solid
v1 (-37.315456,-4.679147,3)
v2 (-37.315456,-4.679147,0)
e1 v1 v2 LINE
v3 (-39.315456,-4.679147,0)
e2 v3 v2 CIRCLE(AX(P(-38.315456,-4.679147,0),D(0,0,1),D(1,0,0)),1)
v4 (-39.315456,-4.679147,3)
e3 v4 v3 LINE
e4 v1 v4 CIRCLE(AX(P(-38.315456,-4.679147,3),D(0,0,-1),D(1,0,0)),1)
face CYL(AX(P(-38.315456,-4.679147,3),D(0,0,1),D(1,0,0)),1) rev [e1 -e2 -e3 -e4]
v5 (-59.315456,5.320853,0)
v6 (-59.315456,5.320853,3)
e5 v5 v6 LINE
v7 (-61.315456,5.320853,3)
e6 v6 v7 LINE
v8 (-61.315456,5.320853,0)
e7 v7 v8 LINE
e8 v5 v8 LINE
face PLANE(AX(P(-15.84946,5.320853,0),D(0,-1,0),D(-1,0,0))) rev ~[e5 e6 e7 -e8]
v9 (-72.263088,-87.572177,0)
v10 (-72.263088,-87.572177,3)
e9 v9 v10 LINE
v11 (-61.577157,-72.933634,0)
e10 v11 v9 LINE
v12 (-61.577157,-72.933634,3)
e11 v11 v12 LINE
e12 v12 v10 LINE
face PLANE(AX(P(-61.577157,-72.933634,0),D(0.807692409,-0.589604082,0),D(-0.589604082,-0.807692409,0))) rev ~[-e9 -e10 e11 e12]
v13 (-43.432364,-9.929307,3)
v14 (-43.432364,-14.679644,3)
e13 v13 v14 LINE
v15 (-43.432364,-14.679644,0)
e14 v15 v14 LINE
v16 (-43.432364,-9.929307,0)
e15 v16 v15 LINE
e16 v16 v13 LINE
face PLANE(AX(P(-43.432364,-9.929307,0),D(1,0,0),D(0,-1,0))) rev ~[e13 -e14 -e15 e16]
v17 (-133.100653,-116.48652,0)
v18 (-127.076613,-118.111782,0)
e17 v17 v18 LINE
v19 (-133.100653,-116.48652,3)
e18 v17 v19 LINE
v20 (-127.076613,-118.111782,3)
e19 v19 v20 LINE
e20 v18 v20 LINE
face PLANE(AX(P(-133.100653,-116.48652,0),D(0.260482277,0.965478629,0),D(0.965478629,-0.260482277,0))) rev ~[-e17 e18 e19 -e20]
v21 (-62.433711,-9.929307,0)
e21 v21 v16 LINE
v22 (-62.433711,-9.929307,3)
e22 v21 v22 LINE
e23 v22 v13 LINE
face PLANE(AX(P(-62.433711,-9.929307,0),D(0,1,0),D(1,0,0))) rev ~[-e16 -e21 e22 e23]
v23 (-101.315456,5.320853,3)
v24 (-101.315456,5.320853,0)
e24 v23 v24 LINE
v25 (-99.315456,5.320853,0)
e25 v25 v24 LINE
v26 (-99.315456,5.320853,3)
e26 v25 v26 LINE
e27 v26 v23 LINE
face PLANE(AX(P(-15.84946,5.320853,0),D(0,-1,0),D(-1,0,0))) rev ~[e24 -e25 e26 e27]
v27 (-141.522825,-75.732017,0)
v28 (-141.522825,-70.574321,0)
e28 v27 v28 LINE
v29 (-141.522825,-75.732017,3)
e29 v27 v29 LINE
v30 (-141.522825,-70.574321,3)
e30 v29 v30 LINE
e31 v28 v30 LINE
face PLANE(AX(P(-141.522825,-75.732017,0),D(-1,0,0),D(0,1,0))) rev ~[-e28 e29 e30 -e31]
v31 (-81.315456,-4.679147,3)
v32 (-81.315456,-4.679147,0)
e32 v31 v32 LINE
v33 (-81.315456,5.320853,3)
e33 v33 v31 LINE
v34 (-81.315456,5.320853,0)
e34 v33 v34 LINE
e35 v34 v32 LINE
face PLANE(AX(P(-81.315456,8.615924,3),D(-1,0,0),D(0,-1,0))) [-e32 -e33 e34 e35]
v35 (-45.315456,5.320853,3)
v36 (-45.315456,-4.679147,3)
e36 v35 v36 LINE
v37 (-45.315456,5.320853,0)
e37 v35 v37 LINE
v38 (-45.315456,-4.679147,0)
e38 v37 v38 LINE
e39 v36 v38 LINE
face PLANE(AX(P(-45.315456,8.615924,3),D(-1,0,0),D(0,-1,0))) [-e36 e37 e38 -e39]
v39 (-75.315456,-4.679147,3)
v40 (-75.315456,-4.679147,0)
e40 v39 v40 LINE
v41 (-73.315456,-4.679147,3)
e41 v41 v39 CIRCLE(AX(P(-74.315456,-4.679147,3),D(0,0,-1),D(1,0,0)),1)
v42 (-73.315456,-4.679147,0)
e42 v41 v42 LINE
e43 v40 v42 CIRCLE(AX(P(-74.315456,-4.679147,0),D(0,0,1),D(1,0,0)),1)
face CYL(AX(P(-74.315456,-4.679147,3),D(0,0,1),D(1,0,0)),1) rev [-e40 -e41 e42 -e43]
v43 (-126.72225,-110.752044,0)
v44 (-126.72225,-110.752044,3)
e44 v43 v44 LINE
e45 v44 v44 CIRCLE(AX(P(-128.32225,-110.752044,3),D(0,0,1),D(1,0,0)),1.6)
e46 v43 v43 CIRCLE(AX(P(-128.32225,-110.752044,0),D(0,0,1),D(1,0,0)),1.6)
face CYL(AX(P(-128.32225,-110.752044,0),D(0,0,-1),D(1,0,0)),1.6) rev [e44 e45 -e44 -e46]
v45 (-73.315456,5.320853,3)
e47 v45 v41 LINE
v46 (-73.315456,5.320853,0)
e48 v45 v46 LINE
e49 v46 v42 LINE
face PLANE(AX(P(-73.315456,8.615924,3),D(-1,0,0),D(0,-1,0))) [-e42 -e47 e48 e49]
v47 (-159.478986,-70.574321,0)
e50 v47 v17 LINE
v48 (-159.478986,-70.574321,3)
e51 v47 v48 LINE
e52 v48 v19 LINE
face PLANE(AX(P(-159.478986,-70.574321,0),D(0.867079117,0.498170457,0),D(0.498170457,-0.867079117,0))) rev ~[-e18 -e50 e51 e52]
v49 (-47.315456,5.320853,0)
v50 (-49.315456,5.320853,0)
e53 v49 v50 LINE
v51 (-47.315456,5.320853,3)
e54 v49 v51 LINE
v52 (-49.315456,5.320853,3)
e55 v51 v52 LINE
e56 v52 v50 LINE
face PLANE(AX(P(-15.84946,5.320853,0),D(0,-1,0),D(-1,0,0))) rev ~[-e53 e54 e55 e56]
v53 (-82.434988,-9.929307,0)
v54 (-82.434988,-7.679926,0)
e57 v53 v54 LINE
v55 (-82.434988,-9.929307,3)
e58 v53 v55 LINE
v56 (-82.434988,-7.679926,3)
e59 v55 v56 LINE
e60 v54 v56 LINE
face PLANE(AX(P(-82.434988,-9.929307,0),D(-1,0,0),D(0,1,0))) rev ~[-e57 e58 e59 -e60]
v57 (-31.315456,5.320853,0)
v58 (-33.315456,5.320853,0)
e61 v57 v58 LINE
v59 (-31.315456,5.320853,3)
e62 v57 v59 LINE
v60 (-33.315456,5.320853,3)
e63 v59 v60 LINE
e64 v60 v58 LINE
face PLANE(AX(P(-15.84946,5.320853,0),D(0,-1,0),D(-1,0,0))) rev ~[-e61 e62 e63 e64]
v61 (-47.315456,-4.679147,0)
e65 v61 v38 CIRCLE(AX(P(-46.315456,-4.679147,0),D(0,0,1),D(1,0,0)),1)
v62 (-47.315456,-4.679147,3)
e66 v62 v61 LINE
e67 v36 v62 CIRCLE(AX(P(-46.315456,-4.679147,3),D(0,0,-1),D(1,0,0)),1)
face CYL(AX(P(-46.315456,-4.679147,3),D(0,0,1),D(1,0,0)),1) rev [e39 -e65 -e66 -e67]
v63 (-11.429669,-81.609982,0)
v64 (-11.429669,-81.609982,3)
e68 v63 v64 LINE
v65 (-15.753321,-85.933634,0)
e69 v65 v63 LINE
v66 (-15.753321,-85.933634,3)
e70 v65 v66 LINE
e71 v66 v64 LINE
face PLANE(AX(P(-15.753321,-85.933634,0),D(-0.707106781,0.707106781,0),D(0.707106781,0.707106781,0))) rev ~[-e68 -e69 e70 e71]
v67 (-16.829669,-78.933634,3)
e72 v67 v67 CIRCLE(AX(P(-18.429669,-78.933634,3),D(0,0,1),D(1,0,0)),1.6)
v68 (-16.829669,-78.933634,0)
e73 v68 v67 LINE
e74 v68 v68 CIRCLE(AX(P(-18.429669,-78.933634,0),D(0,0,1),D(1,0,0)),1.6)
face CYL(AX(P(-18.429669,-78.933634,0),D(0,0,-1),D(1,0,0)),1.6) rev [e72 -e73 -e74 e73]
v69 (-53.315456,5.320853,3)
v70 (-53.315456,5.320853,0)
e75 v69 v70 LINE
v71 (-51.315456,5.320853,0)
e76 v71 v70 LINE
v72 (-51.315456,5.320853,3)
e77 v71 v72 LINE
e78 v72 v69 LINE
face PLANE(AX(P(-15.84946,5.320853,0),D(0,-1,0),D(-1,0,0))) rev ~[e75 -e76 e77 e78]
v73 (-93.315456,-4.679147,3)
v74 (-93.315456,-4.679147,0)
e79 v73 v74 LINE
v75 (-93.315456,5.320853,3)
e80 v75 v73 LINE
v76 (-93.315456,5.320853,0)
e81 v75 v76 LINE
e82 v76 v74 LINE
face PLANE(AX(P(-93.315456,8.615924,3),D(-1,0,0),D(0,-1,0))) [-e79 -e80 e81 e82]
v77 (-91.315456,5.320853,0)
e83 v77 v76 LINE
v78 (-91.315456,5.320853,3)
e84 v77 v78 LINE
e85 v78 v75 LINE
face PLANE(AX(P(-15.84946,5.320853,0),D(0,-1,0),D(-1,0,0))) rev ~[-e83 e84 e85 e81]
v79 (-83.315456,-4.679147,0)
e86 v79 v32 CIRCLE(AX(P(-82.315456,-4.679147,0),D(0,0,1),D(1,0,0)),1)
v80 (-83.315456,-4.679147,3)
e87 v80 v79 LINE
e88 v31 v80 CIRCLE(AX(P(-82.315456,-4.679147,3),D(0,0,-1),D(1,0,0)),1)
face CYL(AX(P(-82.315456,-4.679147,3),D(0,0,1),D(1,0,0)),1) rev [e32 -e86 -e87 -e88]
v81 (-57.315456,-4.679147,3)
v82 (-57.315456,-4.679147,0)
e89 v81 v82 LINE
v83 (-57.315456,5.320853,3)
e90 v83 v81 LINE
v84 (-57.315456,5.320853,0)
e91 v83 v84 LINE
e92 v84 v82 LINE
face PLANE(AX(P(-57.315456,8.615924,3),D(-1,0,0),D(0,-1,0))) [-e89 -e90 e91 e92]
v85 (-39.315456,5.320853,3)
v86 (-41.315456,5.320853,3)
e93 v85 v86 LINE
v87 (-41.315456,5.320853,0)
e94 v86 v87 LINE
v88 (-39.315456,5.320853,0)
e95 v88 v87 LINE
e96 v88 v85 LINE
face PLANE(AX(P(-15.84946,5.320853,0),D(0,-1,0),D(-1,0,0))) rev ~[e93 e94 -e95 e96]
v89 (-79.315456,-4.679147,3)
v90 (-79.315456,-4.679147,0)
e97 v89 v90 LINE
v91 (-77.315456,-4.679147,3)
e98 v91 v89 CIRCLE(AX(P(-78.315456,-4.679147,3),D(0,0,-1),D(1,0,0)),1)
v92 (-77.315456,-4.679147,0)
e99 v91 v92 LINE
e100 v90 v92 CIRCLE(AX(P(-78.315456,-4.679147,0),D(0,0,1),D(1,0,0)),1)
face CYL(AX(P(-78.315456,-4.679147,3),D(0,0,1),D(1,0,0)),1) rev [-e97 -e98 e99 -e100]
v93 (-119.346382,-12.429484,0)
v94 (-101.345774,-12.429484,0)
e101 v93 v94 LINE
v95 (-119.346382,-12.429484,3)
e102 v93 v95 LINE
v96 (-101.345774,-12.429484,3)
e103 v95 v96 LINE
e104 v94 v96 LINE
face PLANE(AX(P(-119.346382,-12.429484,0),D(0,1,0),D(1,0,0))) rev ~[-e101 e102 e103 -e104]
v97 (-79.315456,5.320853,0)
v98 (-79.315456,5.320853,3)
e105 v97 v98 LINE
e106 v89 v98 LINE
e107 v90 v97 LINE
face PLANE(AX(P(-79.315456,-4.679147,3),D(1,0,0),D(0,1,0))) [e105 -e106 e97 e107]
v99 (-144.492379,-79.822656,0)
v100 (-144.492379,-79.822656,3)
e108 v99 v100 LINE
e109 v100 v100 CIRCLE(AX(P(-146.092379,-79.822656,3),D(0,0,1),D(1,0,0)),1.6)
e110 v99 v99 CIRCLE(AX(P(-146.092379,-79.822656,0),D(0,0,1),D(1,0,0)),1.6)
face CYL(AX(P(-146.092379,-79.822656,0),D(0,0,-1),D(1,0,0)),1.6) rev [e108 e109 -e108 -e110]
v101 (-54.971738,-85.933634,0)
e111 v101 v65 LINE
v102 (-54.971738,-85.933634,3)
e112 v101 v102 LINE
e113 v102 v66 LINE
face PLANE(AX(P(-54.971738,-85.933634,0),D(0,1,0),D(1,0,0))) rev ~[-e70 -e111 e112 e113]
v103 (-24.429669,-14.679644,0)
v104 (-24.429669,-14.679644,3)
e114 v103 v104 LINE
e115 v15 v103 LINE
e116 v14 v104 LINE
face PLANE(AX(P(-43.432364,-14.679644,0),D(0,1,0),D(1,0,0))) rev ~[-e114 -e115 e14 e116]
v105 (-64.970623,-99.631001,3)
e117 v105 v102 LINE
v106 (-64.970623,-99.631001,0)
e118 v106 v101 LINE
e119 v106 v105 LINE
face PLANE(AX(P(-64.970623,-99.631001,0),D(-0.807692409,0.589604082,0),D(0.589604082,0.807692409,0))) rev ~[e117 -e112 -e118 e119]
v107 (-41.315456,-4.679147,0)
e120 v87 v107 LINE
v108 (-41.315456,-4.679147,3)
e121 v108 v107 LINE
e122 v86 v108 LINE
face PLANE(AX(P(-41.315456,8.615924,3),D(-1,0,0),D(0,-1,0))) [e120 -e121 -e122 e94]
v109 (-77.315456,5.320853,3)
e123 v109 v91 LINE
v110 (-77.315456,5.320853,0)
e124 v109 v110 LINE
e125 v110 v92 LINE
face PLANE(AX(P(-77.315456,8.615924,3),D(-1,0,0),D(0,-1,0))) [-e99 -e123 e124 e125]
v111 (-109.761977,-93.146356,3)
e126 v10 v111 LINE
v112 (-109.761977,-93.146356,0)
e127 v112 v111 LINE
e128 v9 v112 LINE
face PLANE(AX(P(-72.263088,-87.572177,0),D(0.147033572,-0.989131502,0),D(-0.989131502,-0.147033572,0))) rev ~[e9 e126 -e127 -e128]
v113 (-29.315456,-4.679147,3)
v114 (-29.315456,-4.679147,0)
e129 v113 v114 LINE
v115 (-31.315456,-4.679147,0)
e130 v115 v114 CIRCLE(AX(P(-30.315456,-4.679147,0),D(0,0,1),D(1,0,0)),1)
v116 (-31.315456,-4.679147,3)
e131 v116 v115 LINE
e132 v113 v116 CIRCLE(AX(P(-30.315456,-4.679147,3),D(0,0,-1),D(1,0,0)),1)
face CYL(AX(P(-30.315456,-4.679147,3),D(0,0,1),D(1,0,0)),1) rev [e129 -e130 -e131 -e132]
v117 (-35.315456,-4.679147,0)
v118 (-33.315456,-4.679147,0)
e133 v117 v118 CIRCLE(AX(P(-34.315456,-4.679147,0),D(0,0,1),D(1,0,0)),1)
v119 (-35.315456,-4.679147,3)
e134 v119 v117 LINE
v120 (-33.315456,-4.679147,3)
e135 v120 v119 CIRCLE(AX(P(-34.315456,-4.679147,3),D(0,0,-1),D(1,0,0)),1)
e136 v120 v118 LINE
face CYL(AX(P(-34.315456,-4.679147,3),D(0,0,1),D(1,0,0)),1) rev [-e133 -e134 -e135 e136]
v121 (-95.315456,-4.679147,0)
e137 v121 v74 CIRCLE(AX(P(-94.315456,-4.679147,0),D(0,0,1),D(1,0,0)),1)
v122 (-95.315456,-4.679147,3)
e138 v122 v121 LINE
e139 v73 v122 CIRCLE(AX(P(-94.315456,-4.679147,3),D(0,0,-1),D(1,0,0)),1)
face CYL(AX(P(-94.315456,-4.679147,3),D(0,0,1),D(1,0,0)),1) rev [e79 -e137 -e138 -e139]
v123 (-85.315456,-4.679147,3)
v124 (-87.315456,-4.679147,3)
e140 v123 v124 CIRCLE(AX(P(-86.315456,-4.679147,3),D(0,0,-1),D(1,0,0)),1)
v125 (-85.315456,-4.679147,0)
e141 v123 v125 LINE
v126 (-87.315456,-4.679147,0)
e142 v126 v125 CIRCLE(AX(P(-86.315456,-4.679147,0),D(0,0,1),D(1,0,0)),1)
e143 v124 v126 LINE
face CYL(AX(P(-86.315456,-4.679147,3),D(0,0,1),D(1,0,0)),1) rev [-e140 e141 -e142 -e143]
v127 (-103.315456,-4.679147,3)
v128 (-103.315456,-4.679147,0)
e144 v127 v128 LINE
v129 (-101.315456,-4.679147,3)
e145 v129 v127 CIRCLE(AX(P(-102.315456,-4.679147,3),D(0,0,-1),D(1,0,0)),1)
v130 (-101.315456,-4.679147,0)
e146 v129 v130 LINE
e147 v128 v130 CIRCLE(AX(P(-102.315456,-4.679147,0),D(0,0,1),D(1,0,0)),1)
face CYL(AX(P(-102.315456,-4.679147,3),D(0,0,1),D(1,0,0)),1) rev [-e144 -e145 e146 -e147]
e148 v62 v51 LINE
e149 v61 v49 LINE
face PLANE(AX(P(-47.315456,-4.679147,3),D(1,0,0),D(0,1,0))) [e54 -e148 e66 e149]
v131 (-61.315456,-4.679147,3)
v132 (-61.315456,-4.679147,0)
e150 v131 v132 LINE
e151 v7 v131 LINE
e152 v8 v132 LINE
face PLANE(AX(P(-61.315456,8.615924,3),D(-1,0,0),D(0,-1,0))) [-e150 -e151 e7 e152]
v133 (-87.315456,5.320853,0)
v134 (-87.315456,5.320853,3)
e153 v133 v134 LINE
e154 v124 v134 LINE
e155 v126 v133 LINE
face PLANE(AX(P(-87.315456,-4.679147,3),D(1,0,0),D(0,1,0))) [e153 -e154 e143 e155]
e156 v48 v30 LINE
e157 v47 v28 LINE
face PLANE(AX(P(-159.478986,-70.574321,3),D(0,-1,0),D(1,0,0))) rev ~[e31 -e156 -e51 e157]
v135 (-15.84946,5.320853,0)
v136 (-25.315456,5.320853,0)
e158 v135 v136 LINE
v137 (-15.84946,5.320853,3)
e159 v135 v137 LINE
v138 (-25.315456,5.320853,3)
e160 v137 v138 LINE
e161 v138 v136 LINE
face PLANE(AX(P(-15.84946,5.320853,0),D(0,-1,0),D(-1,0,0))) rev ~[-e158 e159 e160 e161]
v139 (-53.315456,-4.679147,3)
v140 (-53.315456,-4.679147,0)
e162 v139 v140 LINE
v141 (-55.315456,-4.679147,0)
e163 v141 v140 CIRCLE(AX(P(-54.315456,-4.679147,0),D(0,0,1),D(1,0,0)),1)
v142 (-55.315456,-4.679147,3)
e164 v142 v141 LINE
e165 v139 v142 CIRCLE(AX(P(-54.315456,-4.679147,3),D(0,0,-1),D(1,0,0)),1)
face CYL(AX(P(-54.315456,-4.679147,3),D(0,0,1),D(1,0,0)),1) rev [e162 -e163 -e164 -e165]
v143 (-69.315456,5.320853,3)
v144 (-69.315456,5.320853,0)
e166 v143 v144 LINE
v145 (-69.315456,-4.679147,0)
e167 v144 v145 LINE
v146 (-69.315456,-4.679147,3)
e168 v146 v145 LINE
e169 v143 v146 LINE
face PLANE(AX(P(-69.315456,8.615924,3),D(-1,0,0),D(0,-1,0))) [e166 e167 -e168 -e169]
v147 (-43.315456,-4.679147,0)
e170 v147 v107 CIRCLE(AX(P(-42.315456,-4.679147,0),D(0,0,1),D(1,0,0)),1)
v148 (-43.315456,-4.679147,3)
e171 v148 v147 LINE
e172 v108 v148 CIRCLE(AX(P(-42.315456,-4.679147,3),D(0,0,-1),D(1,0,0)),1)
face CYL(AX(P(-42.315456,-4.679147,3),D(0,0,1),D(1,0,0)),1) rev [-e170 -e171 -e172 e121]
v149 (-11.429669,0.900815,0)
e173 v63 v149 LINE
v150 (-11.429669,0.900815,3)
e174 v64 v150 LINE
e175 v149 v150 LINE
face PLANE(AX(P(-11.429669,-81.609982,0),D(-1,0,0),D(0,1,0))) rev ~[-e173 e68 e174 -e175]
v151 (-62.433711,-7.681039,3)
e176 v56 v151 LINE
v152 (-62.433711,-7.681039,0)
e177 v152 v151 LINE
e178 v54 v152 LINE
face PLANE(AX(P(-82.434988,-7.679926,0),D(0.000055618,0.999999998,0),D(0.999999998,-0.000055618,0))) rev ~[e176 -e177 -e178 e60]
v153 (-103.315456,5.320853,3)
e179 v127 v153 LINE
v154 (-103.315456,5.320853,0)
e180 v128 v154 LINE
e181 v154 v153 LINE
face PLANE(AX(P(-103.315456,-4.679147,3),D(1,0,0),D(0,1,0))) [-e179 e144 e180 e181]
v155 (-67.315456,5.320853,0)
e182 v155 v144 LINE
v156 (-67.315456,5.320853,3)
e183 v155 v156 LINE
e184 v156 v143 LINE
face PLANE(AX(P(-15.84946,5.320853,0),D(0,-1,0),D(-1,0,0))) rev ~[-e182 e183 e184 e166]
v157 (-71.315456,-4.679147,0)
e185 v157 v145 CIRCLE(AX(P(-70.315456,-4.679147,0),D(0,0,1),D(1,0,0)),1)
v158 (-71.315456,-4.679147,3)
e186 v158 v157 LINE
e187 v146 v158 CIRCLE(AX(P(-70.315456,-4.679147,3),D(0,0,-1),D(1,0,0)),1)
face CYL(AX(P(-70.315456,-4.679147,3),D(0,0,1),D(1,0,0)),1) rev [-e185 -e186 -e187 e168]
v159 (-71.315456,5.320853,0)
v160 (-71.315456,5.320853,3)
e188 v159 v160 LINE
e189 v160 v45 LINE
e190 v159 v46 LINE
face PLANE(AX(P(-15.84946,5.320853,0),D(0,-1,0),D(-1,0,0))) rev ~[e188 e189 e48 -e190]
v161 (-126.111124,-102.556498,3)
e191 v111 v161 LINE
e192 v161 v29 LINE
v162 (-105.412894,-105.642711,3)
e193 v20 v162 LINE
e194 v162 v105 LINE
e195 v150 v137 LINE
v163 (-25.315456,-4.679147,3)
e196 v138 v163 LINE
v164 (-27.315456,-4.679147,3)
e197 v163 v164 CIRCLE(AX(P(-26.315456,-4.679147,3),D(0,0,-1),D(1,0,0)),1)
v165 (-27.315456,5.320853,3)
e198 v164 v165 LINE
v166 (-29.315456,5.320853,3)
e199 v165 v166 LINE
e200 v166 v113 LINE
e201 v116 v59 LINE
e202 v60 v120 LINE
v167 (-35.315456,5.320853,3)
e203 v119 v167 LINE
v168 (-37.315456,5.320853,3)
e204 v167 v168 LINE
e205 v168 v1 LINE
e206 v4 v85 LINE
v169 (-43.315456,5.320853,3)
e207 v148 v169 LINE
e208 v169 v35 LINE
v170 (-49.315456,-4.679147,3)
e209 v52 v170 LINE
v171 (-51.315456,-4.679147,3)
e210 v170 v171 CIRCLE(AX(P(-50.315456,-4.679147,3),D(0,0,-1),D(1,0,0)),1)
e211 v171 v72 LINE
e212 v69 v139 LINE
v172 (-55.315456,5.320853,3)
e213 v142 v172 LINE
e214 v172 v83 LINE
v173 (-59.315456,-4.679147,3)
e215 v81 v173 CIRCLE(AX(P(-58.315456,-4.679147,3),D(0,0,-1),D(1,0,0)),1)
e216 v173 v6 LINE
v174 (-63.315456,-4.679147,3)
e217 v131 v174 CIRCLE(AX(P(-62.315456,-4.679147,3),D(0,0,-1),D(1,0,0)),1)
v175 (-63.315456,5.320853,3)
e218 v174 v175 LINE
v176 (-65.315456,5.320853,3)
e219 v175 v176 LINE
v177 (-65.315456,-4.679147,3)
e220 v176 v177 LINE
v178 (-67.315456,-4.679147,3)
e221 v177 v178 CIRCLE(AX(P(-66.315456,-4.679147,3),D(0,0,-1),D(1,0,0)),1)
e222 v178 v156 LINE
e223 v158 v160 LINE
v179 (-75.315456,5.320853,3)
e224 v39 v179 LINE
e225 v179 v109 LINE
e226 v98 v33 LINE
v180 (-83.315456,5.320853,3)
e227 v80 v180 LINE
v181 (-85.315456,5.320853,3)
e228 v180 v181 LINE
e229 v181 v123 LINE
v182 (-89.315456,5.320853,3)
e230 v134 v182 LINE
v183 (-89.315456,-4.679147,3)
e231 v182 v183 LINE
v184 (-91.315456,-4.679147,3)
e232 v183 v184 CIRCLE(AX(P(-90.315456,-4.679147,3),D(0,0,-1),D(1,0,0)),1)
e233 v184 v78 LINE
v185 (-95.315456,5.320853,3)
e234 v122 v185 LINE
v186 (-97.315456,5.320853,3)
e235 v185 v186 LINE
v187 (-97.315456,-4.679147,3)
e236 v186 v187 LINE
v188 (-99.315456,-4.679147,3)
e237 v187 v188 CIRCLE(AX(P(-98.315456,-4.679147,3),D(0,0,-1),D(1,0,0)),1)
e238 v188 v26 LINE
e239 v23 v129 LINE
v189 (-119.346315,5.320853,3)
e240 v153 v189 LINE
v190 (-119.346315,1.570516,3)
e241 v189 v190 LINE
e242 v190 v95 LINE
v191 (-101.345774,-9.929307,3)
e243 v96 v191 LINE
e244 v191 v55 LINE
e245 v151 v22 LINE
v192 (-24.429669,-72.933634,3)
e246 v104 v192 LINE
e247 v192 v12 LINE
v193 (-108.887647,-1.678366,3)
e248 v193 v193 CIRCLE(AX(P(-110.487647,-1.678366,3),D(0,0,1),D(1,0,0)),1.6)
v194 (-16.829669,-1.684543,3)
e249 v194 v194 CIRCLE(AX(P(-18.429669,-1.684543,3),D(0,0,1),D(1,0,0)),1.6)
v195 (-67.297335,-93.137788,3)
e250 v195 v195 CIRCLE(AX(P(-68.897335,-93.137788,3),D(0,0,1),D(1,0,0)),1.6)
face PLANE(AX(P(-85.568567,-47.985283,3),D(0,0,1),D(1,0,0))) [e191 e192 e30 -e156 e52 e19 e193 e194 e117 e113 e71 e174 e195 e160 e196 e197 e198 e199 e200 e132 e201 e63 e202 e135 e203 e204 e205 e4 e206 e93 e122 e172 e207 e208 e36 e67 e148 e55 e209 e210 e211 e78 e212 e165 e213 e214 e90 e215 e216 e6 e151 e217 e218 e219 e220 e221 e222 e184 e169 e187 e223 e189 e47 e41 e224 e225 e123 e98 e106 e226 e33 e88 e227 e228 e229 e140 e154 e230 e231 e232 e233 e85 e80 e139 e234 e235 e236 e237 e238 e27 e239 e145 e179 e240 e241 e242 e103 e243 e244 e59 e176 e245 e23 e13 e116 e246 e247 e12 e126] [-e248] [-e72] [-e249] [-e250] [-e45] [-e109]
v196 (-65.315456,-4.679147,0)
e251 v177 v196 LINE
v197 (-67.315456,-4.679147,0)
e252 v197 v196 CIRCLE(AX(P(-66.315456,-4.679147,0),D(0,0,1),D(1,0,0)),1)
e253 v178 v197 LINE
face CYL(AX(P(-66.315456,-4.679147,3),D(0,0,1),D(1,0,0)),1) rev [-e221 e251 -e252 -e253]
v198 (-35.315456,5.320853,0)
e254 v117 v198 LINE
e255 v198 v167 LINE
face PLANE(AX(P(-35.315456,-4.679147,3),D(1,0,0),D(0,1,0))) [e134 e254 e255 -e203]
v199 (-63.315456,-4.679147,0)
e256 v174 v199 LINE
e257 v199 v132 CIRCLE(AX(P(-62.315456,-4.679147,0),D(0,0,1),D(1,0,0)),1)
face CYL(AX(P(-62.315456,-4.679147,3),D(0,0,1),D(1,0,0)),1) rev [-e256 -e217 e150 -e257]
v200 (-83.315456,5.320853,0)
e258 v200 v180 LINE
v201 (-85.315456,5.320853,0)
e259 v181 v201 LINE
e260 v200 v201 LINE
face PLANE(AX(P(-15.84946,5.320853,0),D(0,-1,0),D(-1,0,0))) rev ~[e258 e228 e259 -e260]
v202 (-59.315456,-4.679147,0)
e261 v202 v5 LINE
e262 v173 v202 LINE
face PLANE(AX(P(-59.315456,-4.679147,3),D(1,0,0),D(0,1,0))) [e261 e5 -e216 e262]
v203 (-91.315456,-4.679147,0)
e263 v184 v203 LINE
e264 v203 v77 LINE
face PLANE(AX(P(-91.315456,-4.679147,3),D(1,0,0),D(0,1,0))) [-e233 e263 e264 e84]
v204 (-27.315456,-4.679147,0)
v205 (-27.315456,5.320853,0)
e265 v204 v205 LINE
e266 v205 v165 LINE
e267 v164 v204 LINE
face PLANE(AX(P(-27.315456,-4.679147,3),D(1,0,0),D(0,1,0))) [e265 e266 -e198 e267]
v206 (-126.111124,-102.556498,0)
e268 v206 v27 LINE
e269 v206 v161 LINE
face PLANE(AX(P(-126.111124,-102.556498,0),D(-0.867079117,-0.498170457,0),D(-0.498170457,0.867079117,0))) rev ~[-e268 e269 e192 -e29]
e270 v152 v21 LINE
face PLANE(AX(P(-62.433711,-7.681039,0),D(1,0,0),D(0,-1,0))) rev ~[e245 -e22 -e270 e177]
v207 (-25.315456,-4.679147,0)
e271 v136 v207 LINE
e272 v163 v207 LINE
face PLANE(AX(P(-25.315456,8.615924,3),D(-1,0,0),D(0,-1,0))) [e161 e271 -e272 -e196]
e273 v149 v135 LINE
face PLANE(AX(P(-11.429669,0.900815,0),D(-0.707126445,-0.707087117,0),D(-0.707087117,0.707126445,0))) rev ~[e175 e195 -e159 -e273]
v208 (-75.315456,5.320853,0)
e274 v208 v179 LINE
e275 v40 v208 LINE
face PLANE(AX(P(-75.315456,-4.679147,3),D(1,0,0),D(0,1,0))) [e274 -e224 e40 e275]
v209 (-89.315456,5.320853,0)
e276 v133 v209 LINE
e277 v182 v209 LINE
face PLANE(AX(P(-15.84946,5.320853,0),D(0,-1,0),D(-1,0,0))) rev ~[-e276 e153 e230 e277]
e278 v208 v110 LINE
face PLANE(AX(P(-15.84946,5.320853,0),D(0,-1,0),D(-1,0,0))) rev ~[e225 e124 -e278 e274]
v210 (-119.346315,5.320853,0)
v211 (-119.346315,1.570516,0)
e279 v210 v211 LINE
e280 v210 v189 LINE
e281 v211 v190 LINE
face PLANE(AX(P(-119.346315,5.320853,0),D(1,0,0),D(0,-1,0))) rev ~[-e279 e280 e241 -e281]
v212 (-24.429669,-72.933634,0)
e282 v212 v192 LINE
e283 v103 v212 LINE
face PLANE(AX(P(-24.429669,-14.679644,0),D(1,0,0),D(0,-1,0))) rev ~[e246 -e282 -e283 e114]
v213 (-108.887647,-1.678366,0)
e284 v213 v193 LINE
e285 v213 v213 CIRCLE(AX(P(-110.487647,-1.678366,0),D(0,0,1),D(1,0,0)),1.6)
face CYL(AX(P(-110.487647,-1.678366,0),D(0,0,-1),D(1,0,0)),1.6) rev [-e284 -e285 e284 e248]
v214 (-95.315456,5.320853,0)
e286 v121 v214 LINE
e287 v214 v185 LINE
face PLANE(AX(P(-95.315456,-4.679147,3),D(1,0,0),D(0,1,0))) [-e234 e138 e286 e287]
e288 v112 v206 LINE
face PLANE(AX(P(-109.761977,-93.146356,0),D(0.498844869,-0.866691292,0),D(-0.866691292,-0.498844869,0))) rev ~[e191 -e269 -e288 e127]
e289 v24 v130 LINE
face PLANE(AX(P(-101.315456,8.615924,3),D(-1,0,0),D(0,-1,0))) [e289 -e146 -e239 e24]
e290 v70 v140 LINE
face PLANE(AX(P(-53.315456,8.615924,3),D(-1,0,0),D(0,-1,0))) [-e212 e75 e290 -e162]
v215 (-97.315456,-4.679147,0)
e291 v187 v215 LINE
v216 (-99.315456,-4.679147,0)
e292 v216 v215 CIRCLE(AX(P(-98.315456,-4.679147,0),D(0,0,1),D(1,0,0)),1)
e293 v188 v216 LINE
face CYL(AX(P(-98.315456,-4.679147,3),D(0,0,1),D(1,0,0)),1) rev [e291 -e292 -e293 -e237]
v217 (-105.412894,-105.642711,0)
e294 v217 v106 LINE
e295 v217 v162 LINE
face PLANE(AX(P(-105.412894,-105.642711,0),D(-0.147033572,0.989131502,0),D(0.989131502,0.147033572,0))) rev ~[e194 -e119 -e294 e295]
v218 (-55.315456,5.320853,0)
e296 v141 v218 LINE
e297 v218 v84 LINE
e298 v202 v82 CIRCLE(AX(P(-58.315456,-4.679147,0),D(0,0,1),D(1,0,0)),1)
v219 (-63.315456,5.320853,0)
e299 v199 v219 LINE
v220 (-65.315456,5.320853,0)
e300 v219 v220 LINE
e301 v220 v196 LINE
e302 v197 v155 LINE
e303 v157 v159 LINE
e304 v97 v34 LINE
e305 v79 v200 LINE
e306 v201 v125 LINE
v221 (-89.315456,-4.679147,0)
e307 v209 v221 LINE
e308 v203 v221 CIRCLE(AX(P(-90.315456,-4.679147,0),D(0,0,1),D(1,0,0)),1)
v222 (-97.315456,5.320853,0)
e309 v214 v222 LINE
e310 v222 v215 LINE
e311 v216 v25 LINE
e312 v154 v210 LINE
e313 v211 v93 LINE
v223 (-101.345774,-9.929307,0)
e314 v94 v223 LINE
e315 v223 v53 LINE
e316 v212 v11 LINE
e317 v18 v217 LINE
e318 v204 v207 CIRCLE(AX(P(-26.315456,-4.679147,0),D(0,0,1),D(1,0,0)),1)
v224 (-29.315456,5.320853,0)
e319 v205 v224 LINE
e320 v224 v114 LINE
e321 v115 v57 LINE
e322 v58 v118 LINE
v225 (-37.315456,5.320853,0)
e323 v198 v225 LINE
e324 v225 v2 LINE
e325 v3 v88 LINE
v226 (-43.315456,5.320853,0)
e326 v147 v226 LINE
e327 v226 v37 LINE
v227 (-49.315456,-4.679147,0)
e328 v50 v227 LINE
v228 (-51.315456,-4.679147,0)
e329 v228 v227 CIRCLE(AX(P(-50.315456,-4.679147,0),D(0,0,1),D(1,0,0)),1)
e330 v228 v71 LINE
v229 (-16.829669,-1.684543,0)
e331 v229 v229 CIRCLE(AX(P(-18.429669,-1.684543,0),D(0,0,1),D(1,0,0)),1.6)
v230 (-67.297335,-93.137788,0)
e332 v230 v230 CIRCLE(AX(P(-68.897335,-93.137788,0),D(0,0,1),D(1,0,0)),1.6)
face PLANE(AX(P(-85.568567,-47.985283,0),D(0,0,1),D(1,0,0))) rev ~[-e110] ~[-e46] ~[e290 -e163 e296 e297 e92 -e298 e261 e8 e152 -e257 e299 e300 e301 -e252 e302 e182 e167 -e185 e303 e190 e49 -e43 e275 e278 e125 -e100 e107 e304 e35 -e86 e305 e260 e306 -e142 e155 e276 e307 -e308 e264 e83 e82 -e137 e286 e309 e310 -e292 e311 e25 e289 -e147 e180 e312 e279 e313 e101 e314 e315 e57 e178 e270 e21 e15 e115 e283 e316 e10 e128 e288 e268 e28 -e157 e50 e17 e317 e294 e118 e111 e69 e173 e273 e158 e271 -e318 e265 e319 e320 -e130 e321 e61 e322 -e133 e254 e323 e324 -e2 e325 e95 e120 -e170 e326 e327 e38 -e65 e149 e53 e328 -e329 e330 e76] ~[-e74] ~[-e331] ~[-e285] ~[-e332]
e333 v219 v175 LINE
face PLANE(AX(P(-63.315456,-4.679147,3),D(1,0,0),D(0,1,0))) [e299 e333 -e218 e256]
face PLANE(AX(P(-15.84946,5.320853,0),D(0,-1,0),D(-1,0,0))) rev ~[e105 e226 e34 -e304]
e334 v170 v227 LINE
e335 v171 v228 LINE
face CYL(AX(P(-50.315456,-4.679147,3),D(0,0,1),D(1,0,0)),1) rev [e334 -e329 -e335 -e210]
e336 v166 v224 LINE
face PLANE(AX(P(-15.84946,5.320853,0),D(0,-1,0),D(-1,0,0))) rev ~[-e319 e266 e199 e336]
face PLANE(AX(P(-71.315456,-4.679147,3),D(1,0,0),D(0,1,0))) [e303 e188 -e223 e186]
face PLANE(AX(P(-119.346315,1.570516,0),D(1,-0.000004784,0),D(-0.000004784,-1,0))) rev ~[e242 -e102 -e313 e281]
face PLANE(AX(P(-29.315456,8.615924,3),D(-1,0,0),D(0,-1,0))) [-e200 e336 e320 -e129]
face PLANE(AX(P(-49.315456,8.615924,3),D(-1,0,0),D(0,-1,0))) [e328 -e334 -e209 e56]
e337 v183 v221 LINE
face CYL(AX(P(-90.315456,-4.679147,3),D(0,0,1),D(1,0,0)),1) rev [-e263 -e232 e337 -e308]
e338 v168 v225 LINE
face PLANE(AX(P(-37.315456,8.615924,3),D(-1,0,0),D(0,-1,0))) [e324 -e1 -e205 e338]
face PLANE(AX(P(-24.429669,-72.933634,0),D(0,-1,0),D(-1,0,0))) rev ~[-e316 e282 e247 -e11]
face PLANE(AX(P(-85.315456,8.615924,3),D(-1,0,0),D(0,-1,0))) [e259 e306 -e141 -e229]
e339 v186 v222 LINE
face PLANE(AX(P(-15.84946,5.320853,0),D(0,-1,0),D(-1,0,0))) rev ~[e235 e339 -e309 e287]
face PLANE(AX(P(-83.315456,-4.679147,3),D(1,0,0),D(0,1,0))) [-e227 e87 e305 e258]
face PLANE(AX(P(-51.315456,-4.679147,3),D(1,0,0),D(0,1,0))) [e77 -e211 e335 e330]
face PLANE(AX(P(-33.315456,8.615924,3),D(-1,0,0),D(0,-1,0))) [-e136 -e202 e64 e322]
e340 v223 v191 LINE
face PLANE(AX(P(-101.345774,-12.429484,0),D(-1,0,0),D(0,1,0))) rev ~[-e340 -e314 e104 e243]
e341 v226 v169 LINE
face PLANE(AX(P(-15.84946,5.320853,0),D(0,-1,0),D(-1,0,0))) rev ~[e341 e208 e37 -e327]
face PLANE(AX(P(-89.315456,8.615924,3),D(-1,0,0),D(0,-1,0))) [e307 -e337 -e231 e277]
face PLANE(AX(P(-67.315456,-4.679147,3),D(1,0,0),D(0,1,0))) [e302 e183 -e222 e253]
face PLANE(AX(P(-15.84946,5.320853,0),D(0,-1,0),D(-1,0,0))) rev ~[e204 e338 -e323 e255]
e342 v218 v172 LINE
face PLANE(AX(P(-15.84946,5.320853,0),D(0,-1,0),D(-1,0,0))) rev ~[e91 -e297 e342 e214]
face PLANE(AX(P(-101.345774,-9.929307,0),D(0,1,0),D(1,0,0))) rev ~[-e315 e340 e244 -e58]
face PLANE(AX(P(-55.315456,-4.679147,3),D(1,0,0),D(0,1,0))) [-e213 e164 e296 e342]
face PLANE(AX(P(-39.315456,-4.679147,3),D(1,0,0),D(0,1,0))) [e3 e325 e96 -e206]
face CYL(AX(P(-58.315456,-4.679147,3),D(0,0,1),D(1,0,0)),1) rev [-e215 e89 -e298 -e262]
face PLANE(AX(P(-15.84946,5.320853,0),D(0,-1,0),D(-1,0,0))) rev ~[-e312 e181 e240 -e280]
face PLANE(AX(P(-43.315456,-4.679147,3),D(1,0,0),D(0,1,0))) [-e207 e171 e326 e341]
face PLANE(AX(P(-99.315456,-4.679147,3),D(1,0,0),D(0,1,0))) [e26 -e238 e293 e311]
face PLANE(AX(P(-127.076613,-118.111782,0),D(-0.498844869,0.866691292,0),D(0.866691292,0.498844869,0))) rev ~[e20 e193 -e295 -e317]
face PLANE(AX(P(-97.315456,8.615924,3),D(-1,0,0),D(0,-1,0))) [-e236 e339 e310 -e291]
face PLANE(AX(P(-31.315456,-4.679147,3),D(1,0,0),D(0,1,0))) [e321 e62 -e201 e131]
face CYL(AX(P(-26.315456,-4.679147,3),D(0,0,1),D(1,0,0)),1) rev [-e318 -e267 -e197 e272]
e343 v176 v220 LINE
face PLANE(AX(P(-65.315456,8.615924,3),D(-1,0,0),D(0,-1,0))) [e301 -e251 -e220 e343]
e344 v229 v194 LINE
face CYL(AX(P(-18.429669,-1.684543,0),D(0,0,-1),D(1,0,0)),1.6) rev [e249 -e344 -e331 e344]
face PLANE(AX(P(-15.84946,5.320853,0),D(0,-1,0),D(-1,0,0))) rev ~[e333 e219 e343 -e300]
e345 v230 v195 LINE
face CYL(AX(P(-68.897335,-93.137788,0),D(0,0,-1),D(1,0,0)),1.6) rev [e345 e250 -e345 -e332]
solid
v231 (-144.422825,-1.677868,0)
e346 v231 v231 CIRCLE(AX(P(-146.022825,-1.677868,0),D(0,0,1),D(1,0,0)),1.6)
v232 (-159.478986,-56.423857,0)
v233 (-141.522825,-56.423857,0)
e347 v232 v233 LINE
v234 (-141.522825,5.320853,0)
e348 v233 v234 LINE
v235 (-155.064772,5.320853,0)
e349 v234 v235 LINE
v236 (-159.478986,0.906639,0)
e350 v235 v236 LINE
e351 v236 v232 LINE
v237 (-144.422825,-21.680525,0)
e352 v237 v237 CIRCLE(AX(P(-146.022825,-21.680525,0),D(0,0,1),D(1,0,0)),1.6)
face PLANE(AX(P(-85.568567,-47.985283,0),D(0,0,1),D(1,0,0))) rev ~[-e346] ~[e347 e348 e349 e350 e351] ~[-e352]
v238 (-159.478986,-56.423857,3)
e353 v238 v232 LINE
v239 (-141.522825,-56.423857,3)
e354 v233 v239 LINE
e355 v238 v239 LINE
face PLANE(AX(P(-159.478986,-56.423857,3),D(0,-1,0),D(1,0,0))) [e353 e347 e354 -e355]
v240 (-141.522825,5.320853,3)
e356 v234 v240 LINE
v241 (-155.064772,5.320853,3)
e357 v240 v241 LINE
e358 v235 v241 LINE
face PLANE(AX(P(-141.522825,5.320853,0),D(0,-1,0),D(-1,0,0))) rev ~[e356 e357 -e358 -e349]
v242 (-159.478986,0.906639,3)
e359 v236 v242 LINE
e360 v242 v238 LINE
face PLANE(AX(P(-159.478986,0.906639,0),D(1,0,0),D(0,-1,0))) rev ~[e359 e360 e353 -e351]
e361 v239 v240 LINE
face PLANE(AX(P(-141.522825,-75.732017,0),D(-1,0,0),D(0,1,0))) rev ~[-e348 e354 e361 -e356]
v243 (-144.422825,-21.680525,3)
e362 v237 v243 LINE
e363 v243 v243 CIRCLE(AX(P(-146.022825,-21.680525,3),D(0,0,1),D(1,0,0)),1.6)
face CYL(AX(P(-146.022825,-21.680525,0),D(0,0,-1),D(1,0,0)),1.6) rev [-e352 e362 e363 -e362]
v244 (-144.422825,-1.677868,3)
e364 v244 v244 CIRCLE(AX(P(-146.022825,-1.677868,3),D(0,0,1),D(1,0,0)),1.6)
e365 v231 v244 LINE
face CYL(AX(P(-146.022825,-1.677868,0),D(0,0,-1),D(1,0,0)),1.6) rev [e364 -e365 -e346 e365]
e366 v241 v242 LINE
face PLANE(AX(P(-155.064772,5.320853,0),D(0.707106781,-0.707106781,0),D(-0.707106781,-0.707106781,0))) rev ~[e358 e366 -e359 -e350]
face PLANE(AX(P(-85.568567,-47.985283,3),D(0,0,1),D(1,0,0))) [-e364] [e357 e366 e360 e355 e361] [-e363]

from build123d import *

# Parameters (mm, degrees)
ESQUISSE1_R             = 1.6
BOSS_EXTRU_1_DEPTH      = 3
ENL_V_MAT_EXTRU_1_DEPTH = 10
ESQUISSE3_W             = 19.456160795
ESQUISSE3_H             = 14.150463698
ENL_V_MAT_EXTRU_2_DEPTH = 10


with BuildPart() as part:
    # Esquisse1 → Boss.-Extru.1 (new body)
    with BuildSketch(Plane.XY):
        Polygon((-119.346315028, 5.320852512), (-119.346315028, 1.570515597), (-119.346382005, -12.429484403), (-101.345774335, -12.429484403), (-101.345774335, -9.929307079), (-82.434988213, -9.929307079), (-82.434988213, -7.679926158), (-62.433711482, -7.681038584), (-62.433711482, -9.929307079), (-43.432363825, -9.929307079), (-43.432363825, -14.679643994), (-24.429668504, -14.679643994), (-24.429668504, -72.933633781), (-61.577157206, -72.933633781), (-72.263087593, -87.572177036), (-109.761976756, -93.1463556), (-126.111124489, -102.556497988), (-141.52282508, -75.732017442), (-141.52282508, 5.320852512), (-155.064772313, 5.320852512), (-159.478985875, 0.90663895), (-159.478985875, -70.574320891), (-133.100653393, -116.486520024), (-127.076613358, -118.11178196), (-105.412894174, -105.642711064), (-64.97062335, -99.631001274), (-54.971738012, -85.933633781), (-15.753320523, -85.933633781), (-11.429668504, -81.609981762), (-11.429668504, 0.900815081), (-15.84946011, 5.320852512), align=None)
        with Locations((-146.02282508, -21.680525068)):
            Circle(ESQUISSE1_R, mode=Mode.SUBTRACT)
        with Locations((-18.429668504, -1.684542717)):
            Circle(ESQUISSE1_R, mode=Mode.SUBTRACT)
        with Locations((-110.487646531, -1.678365923)):
            Circle(ESQUISSE1_R, mode=Mode.SUBTRACT)
        with Locations((-146.02282508, -1.677868186)):
            Circle(ESQUISSE1_R, mode=Mode.SUBTRACT)
        with Locations((-146.0923789, -79.822656053)):
            Circle(ESQUISSE1_R, mode=Mode.SUBTRACT)
        with Locations((-128.322250168, -110.752044388)):
            Circle(ESQUISSE1_R, mode=Mode.SUBTRACT)
        with Locations((-68.897334865, -93.137788223)):
            Circle(ESQUISSE1_R, mode=Mode.SUBTRACT)
        with Locations((-18.429668504, -78.933633781)):
            Circle(ESQUISSE1_R, mode=Mode.SUBTRACT)
    extrude(amount=BOSS_EXTRU_1_DEPTH)

    # Esquisse2 → Enlèv. mat.-Extru.1 (cut)
    with BuildSketch(Plane.XY.offset(3)):
        with BuildLine():
            Line((-25.315456398, 8.615924369), (-25.315456398, -4.679147488))
            ThreePointArc((-25.315456398, -4.679147488), (-26.315456398, -5.679147488), (-27.315456398, -4.679147488))
            Line((-27.315456398, -4.679147488), (-27.315456398, 8.615924369))
            ThreePointArc((-27.315456398, 8.615924369), (-26.315456398, 9.615924369), (-25.315456398, 8.615924369))
        make_face()
        with BuildLine():
            Line((-29.315456398, 8.615924369), (-29.315456398, -4.679147488))
            ThreePointArc((-29.315456398, -4.679147488), (-30.315456398, -5.679147488), (-31.315456398, -4.679147488))
            Line((-31.315456398, -4.679147488), (-31.315456398, 8.615924369))
            ThreePointArc((-31.315456398, 8.615924369), (-30.315456398, 9.615924369), (-29.315456398, 8.615924369))
        make_face()
        with BuildLine():
            Line((-33.315456398, 8.615924369), (-33.315456398, -4.679147488))
            ThreePointArc((-33.315456398, -4.679147488), (-34.315456398, -5.679147488), (-35.315456398, -4.679147488))
            Line((-35.315456398, -4.679147488), (-35.315456398, 8.615924369))
            ThreePointArc((-35.315456398, 8.615924369), (-34.315456398, 9.615924369), (-33.315456398, 8.615924369))
        make_face()
        with BuildLine():
            Line((-37.315456398, 8.615924369), (-37.315456398, -4.679147488))
            ThreePointArc((-37.315456398, -4.679147488), (-38.315456398, -5.679147488), (-39.315456398, -4.679147488))
            Line((-39.315456398, -4.679147488), (-39.315456398, 8.615924369))
            ThreePointArc((-39.315456398, 8.615924369), (-38.315456398, 9.615924369), (-37.315456398, 8.615924369))
        make_face()
        with BuildLine():
            Line((-41.315456398, 8.615924369), (-41.315456398, -4.679147488))
            ThreePointArc((-41.315456398, -4.679147488), (-42.315456398, -5.679147488), (-43.315456398, -4.679147488))
            Line((-43.315456398, -4.679147488), (-43.315456398, 8.615924369))
            ThreePointArc((-43.315456398, 8.615924369), (-42.315456398, 9.615924369), (-41.315456398, 8.615924369))
        make_face()
        with BuildLine():
            Line((-45.315456398, 8.615924369), (-45.315456398, -4.679147488))
            ThreePointArc((-45.315456398, -4.679147488), (-46.315456398, -5.679147488), (-47.315456398, -4.679147488))
            Line((-47.315456398, -4.679147488), (-47.315456398, 8.615924369))
            ThreePointArc((-47.315456398, 8.615924369), (-46.315456398, 9.615924369), (-45.315456398, 8.615924369))
        make_face()
        with BuildLine():
            Line((-49.315456398, 8.615924369), (-49.315456398, -4.679147488))
            ThreePointArc((-49.315456398, -4.679147488), (-50.315456398, -5.679147488), (-51.315456398, -4.679147488))
            Line((-51.315456398, -4.679147488), (-51.315456398, 8.615924369))
            ThreePointArc((-51.315456398, 8.615924369), (-50.315456398, 9.615924369), (-49.315456398, 8.615924369))
        make_face()
        with BuildLine():
            Line((-53.315456398, 8.615924369), (-53.315456398, -4.679147488))
            ThreePointArc((-53.315456398, -4.679147488), (-54.315456398, -5.679147488), (-55.315456398, -4.679147488))
            Line((-55.315456398, -4.679147488), (-55.315456398, 8.615924369))
            ThreePointArc((-55.315456398, 8.615924369), (-54.315456398, 9.615924369), (-53.315456398, 8.615924369))
        make_face()
        with BuildLine():
            Line((-57.315456398, 8.615924369), (-57.315456398, -4.679147488))
            ThreePointArc((-57.315456398, -4.679147488), (-58.315456398, -5.679147488), (-59.315456398, -4.679147488))
            Line((-59.315456398, -4.679147488), (-59.315456398, 8.615924369))
            ThreePointArc((-59.315456398, 8.615924369), (-58.315456398, 9.615924369), (-57.315456398, 8.615924369))
        make_face()
        with BuildLine():
            Line((-61.315456398, 8.615924369), (-61.315456398, -4.679147488))
            ThreePointArc((-61.315456398, -4.679147488), (-62.315456398, -5.679147488), (-63.315456398, -4.679147488))
            Line((-63.315456398, -4.679147488), (-63.315456398, 8.615924369))
            ThreePointArc((-63.315456398, 8.615924369), (-62.315456398, 9.615924369), (-61.315456398, 8.615924369))
        make_face()
        with BuildLine():
            Line((-65.315456398, 8.615924369), (-65.315456398, -4.679147488))
            ThreePointArc((-65.315456398, -4.679147488), (-66.315456398, -5.679147488), (-67.315456398, -4.679147488))
            Line((-67.315456398, -4.679147488), (-67.315456398, 8.615924369))
            ThreePointArc((-67.315456398, 8.615924369), (-66.315456398, 9.615924369), (-65.315456398, 8.615924369))
        make_face()
        with BuildLine():
            Line((-69.315456398, 8.615924369), (-69.315456398, -4.679147488))
            ThreePointArc((-69.315456398, -4.679147488), (-70.315456398, -5.679147488), (-71.315456398, -4.679147488))
            Line((-71.315456398, -4.679147488), (-71.315456398, 8.615924369))
            ThreePointArc((-71.315456398, 8.615924369), (-70.315456398, 9.615924369), (-69.315456398, 8.615924369))
        make_face()
        with BuildLine():
            Line((-73.315456398, 8.615924369), (-73.315456398, -4.679147488))
            ThreePointArc((-73.315456398, -4.679147488), (-74.315456398, -5.679147488), (-75.315456398, -4.679147488))
            Line((-75.315456398, -4.679147488), (-75.315456398, 8.615924369))
            ThreePointArc((-75.315456398, 8.615924369), (-74.315456398, 9.615924369), (-73.315456398, 8.615924369))
        make_face()
        with BuildLine():
            Line((-77.315456398, 8.615924369), (-77.315456398, -4.679147488))
            ThreePointArc((-77.315456398, -4.679147488), (-78.315456398, -5.679147488), (-79.315456398, -4.679147488))
            Line((-79.315456398, -4.679147488), (-79.315456398, 8.615924369))
            ThreePointArc((-79.315456398, 8.615924369), (-78.315456398, 9.615924369), (-77.315456398, 8.615924369))
        make_face()
        with BuildLine():
            Line((-81.315456398, 8.615924369), (-81.315456398, -4.679147488))
            ThreePointArc((-81.315456398, -4.679147488), (-82.315456398, -5.679147488), (-83.315456398, -4.679147488))
            Line((-83.315456398, -4.679147488), (-83.315456398, 8.615924369))
            ThreePointArc((-83.315456398, 8.615924369), (-82.315456398, 9.615924369), (-81.315456398, 8.615924369))
        make_face()
        with BuildLine():
            Line((-85.315456398, 8.615924369), (-85.315456398, -4.679147488))
            ThreePointArc((-85.315456398, -4.679147488), (-86.315456398, -5.679147488), (-87.315456398, -4.679147488))
            Line((-87.315456398, -4.679147488), (-87.315456398, 8.615924369))
            ThreePointArc((-87.315456398, 8.615924369), (-86.315456398, 9.615924369), (-85.315456398, 8.615924369))
        make_face()
        with BuildLine():
            Line((-89.315456398, 8.615924369), (-89.315456398, -4.679147488))
            ThreePointArc((-89.315456398, -4.679147488), (-90.315456398, -5.679147488), (-91.315456398, -4.679147488))
            Line((-91.315456398, -4.679147488), (-91.315456398, 8.615924369))
            ThreePointArc((-91.315456398, 8.615924369), (-90.315456398, 9.615924369), (-89.315456398, 8.615924369))
        make_face()
        with BuildLine():
            Line((-93.315456398, 8.615924369), (-93.315456398, -4.679147488))
            ThreePointArc((-93.315456398, -4.679147488), (-94.315456398, -5.679147488), (-95.315456398, -4.679147488))
            Line((-95.315456398, -4.679147488), (-95.315456398, 8.615924369))
            ThreePointArc((-95.315456398, 8.615924369), (-94.315456398, 9.615924369), (-93.315456398, 8.615924369))
        make_face()
        with BuildLine():
            Line((-97.315456398, 8.615924369), (-97.315456398, -4.679147488))
            ThreePointArc((-97.315456398, -4.679147488), (-98.315456398, -5.679147488), (-99.315456398, -4.679147488))
            Line((-99.315456398, -4.679147488), (-99.315456398, 8.615924369))
            ThreePointArc((-99.315456398, 8.615924369), (-98.315456398, 9.615924369), (-97.315456398, 8.615924369))
        make_face()
        with BuildLine():
            Line((-101.315456398, 8.615924369), (-101.315456398, -4.679147488))
            ThreePointArc((-101.315456398, -4.679147488), (-102.315456398, -5.679147488), (-103.315456398, -4.679147488))
            Line((-103.315456398, -4.679147488), (-103.315456398, 8.615924369))
            ThreePointArc((-103.315456398, 8.615924369), (-102.315456398, 9.615924369), (-101.315456398, 8.615924369))
        make_face()
    extrude(amount=-ENL_V_MAT_EXTRU_1_DEPTH, mode=Mode.SUBTRACT)

    # Esquisse3 → Enlèv. mat.-Extru.2 (cut)
    with BuildSketch(Plane.XY.offset(3)):
        with Locations((-149.750905477, -63.499089042)):
            Rectangle(ESQUISSE3_W, ESQUISSE3_H)
    extrude(amount=-ENL_V_MAT_EXTRU_2_DEPTH, mode=Mode.SUBTRACT)


with BuildPart() as enl_v_mat_extru_2_piece_1:
    # of the separate pieces the step leaves, piece 1, a body of its own (enl_v_mat_extru_2_pieces)
    add(part.part.solids().sort_by_distance((-11.429668504, 0.900815081, 0))[0])


with BuildPart() as enl_v_mat_extru_2_piece_2:
    # of the separate pieces the step leaves, piece 2, a body of its own (enl_v_mat_extru_2_pieces)
    add(part.part.solids().sort_by_distance((-159.478985875, 0.90663895, 0))[0])


solid = Compound([enl_v_mat_extru_2_piece_1.part, enl_v_mat_extru_2_piece_2.part])
